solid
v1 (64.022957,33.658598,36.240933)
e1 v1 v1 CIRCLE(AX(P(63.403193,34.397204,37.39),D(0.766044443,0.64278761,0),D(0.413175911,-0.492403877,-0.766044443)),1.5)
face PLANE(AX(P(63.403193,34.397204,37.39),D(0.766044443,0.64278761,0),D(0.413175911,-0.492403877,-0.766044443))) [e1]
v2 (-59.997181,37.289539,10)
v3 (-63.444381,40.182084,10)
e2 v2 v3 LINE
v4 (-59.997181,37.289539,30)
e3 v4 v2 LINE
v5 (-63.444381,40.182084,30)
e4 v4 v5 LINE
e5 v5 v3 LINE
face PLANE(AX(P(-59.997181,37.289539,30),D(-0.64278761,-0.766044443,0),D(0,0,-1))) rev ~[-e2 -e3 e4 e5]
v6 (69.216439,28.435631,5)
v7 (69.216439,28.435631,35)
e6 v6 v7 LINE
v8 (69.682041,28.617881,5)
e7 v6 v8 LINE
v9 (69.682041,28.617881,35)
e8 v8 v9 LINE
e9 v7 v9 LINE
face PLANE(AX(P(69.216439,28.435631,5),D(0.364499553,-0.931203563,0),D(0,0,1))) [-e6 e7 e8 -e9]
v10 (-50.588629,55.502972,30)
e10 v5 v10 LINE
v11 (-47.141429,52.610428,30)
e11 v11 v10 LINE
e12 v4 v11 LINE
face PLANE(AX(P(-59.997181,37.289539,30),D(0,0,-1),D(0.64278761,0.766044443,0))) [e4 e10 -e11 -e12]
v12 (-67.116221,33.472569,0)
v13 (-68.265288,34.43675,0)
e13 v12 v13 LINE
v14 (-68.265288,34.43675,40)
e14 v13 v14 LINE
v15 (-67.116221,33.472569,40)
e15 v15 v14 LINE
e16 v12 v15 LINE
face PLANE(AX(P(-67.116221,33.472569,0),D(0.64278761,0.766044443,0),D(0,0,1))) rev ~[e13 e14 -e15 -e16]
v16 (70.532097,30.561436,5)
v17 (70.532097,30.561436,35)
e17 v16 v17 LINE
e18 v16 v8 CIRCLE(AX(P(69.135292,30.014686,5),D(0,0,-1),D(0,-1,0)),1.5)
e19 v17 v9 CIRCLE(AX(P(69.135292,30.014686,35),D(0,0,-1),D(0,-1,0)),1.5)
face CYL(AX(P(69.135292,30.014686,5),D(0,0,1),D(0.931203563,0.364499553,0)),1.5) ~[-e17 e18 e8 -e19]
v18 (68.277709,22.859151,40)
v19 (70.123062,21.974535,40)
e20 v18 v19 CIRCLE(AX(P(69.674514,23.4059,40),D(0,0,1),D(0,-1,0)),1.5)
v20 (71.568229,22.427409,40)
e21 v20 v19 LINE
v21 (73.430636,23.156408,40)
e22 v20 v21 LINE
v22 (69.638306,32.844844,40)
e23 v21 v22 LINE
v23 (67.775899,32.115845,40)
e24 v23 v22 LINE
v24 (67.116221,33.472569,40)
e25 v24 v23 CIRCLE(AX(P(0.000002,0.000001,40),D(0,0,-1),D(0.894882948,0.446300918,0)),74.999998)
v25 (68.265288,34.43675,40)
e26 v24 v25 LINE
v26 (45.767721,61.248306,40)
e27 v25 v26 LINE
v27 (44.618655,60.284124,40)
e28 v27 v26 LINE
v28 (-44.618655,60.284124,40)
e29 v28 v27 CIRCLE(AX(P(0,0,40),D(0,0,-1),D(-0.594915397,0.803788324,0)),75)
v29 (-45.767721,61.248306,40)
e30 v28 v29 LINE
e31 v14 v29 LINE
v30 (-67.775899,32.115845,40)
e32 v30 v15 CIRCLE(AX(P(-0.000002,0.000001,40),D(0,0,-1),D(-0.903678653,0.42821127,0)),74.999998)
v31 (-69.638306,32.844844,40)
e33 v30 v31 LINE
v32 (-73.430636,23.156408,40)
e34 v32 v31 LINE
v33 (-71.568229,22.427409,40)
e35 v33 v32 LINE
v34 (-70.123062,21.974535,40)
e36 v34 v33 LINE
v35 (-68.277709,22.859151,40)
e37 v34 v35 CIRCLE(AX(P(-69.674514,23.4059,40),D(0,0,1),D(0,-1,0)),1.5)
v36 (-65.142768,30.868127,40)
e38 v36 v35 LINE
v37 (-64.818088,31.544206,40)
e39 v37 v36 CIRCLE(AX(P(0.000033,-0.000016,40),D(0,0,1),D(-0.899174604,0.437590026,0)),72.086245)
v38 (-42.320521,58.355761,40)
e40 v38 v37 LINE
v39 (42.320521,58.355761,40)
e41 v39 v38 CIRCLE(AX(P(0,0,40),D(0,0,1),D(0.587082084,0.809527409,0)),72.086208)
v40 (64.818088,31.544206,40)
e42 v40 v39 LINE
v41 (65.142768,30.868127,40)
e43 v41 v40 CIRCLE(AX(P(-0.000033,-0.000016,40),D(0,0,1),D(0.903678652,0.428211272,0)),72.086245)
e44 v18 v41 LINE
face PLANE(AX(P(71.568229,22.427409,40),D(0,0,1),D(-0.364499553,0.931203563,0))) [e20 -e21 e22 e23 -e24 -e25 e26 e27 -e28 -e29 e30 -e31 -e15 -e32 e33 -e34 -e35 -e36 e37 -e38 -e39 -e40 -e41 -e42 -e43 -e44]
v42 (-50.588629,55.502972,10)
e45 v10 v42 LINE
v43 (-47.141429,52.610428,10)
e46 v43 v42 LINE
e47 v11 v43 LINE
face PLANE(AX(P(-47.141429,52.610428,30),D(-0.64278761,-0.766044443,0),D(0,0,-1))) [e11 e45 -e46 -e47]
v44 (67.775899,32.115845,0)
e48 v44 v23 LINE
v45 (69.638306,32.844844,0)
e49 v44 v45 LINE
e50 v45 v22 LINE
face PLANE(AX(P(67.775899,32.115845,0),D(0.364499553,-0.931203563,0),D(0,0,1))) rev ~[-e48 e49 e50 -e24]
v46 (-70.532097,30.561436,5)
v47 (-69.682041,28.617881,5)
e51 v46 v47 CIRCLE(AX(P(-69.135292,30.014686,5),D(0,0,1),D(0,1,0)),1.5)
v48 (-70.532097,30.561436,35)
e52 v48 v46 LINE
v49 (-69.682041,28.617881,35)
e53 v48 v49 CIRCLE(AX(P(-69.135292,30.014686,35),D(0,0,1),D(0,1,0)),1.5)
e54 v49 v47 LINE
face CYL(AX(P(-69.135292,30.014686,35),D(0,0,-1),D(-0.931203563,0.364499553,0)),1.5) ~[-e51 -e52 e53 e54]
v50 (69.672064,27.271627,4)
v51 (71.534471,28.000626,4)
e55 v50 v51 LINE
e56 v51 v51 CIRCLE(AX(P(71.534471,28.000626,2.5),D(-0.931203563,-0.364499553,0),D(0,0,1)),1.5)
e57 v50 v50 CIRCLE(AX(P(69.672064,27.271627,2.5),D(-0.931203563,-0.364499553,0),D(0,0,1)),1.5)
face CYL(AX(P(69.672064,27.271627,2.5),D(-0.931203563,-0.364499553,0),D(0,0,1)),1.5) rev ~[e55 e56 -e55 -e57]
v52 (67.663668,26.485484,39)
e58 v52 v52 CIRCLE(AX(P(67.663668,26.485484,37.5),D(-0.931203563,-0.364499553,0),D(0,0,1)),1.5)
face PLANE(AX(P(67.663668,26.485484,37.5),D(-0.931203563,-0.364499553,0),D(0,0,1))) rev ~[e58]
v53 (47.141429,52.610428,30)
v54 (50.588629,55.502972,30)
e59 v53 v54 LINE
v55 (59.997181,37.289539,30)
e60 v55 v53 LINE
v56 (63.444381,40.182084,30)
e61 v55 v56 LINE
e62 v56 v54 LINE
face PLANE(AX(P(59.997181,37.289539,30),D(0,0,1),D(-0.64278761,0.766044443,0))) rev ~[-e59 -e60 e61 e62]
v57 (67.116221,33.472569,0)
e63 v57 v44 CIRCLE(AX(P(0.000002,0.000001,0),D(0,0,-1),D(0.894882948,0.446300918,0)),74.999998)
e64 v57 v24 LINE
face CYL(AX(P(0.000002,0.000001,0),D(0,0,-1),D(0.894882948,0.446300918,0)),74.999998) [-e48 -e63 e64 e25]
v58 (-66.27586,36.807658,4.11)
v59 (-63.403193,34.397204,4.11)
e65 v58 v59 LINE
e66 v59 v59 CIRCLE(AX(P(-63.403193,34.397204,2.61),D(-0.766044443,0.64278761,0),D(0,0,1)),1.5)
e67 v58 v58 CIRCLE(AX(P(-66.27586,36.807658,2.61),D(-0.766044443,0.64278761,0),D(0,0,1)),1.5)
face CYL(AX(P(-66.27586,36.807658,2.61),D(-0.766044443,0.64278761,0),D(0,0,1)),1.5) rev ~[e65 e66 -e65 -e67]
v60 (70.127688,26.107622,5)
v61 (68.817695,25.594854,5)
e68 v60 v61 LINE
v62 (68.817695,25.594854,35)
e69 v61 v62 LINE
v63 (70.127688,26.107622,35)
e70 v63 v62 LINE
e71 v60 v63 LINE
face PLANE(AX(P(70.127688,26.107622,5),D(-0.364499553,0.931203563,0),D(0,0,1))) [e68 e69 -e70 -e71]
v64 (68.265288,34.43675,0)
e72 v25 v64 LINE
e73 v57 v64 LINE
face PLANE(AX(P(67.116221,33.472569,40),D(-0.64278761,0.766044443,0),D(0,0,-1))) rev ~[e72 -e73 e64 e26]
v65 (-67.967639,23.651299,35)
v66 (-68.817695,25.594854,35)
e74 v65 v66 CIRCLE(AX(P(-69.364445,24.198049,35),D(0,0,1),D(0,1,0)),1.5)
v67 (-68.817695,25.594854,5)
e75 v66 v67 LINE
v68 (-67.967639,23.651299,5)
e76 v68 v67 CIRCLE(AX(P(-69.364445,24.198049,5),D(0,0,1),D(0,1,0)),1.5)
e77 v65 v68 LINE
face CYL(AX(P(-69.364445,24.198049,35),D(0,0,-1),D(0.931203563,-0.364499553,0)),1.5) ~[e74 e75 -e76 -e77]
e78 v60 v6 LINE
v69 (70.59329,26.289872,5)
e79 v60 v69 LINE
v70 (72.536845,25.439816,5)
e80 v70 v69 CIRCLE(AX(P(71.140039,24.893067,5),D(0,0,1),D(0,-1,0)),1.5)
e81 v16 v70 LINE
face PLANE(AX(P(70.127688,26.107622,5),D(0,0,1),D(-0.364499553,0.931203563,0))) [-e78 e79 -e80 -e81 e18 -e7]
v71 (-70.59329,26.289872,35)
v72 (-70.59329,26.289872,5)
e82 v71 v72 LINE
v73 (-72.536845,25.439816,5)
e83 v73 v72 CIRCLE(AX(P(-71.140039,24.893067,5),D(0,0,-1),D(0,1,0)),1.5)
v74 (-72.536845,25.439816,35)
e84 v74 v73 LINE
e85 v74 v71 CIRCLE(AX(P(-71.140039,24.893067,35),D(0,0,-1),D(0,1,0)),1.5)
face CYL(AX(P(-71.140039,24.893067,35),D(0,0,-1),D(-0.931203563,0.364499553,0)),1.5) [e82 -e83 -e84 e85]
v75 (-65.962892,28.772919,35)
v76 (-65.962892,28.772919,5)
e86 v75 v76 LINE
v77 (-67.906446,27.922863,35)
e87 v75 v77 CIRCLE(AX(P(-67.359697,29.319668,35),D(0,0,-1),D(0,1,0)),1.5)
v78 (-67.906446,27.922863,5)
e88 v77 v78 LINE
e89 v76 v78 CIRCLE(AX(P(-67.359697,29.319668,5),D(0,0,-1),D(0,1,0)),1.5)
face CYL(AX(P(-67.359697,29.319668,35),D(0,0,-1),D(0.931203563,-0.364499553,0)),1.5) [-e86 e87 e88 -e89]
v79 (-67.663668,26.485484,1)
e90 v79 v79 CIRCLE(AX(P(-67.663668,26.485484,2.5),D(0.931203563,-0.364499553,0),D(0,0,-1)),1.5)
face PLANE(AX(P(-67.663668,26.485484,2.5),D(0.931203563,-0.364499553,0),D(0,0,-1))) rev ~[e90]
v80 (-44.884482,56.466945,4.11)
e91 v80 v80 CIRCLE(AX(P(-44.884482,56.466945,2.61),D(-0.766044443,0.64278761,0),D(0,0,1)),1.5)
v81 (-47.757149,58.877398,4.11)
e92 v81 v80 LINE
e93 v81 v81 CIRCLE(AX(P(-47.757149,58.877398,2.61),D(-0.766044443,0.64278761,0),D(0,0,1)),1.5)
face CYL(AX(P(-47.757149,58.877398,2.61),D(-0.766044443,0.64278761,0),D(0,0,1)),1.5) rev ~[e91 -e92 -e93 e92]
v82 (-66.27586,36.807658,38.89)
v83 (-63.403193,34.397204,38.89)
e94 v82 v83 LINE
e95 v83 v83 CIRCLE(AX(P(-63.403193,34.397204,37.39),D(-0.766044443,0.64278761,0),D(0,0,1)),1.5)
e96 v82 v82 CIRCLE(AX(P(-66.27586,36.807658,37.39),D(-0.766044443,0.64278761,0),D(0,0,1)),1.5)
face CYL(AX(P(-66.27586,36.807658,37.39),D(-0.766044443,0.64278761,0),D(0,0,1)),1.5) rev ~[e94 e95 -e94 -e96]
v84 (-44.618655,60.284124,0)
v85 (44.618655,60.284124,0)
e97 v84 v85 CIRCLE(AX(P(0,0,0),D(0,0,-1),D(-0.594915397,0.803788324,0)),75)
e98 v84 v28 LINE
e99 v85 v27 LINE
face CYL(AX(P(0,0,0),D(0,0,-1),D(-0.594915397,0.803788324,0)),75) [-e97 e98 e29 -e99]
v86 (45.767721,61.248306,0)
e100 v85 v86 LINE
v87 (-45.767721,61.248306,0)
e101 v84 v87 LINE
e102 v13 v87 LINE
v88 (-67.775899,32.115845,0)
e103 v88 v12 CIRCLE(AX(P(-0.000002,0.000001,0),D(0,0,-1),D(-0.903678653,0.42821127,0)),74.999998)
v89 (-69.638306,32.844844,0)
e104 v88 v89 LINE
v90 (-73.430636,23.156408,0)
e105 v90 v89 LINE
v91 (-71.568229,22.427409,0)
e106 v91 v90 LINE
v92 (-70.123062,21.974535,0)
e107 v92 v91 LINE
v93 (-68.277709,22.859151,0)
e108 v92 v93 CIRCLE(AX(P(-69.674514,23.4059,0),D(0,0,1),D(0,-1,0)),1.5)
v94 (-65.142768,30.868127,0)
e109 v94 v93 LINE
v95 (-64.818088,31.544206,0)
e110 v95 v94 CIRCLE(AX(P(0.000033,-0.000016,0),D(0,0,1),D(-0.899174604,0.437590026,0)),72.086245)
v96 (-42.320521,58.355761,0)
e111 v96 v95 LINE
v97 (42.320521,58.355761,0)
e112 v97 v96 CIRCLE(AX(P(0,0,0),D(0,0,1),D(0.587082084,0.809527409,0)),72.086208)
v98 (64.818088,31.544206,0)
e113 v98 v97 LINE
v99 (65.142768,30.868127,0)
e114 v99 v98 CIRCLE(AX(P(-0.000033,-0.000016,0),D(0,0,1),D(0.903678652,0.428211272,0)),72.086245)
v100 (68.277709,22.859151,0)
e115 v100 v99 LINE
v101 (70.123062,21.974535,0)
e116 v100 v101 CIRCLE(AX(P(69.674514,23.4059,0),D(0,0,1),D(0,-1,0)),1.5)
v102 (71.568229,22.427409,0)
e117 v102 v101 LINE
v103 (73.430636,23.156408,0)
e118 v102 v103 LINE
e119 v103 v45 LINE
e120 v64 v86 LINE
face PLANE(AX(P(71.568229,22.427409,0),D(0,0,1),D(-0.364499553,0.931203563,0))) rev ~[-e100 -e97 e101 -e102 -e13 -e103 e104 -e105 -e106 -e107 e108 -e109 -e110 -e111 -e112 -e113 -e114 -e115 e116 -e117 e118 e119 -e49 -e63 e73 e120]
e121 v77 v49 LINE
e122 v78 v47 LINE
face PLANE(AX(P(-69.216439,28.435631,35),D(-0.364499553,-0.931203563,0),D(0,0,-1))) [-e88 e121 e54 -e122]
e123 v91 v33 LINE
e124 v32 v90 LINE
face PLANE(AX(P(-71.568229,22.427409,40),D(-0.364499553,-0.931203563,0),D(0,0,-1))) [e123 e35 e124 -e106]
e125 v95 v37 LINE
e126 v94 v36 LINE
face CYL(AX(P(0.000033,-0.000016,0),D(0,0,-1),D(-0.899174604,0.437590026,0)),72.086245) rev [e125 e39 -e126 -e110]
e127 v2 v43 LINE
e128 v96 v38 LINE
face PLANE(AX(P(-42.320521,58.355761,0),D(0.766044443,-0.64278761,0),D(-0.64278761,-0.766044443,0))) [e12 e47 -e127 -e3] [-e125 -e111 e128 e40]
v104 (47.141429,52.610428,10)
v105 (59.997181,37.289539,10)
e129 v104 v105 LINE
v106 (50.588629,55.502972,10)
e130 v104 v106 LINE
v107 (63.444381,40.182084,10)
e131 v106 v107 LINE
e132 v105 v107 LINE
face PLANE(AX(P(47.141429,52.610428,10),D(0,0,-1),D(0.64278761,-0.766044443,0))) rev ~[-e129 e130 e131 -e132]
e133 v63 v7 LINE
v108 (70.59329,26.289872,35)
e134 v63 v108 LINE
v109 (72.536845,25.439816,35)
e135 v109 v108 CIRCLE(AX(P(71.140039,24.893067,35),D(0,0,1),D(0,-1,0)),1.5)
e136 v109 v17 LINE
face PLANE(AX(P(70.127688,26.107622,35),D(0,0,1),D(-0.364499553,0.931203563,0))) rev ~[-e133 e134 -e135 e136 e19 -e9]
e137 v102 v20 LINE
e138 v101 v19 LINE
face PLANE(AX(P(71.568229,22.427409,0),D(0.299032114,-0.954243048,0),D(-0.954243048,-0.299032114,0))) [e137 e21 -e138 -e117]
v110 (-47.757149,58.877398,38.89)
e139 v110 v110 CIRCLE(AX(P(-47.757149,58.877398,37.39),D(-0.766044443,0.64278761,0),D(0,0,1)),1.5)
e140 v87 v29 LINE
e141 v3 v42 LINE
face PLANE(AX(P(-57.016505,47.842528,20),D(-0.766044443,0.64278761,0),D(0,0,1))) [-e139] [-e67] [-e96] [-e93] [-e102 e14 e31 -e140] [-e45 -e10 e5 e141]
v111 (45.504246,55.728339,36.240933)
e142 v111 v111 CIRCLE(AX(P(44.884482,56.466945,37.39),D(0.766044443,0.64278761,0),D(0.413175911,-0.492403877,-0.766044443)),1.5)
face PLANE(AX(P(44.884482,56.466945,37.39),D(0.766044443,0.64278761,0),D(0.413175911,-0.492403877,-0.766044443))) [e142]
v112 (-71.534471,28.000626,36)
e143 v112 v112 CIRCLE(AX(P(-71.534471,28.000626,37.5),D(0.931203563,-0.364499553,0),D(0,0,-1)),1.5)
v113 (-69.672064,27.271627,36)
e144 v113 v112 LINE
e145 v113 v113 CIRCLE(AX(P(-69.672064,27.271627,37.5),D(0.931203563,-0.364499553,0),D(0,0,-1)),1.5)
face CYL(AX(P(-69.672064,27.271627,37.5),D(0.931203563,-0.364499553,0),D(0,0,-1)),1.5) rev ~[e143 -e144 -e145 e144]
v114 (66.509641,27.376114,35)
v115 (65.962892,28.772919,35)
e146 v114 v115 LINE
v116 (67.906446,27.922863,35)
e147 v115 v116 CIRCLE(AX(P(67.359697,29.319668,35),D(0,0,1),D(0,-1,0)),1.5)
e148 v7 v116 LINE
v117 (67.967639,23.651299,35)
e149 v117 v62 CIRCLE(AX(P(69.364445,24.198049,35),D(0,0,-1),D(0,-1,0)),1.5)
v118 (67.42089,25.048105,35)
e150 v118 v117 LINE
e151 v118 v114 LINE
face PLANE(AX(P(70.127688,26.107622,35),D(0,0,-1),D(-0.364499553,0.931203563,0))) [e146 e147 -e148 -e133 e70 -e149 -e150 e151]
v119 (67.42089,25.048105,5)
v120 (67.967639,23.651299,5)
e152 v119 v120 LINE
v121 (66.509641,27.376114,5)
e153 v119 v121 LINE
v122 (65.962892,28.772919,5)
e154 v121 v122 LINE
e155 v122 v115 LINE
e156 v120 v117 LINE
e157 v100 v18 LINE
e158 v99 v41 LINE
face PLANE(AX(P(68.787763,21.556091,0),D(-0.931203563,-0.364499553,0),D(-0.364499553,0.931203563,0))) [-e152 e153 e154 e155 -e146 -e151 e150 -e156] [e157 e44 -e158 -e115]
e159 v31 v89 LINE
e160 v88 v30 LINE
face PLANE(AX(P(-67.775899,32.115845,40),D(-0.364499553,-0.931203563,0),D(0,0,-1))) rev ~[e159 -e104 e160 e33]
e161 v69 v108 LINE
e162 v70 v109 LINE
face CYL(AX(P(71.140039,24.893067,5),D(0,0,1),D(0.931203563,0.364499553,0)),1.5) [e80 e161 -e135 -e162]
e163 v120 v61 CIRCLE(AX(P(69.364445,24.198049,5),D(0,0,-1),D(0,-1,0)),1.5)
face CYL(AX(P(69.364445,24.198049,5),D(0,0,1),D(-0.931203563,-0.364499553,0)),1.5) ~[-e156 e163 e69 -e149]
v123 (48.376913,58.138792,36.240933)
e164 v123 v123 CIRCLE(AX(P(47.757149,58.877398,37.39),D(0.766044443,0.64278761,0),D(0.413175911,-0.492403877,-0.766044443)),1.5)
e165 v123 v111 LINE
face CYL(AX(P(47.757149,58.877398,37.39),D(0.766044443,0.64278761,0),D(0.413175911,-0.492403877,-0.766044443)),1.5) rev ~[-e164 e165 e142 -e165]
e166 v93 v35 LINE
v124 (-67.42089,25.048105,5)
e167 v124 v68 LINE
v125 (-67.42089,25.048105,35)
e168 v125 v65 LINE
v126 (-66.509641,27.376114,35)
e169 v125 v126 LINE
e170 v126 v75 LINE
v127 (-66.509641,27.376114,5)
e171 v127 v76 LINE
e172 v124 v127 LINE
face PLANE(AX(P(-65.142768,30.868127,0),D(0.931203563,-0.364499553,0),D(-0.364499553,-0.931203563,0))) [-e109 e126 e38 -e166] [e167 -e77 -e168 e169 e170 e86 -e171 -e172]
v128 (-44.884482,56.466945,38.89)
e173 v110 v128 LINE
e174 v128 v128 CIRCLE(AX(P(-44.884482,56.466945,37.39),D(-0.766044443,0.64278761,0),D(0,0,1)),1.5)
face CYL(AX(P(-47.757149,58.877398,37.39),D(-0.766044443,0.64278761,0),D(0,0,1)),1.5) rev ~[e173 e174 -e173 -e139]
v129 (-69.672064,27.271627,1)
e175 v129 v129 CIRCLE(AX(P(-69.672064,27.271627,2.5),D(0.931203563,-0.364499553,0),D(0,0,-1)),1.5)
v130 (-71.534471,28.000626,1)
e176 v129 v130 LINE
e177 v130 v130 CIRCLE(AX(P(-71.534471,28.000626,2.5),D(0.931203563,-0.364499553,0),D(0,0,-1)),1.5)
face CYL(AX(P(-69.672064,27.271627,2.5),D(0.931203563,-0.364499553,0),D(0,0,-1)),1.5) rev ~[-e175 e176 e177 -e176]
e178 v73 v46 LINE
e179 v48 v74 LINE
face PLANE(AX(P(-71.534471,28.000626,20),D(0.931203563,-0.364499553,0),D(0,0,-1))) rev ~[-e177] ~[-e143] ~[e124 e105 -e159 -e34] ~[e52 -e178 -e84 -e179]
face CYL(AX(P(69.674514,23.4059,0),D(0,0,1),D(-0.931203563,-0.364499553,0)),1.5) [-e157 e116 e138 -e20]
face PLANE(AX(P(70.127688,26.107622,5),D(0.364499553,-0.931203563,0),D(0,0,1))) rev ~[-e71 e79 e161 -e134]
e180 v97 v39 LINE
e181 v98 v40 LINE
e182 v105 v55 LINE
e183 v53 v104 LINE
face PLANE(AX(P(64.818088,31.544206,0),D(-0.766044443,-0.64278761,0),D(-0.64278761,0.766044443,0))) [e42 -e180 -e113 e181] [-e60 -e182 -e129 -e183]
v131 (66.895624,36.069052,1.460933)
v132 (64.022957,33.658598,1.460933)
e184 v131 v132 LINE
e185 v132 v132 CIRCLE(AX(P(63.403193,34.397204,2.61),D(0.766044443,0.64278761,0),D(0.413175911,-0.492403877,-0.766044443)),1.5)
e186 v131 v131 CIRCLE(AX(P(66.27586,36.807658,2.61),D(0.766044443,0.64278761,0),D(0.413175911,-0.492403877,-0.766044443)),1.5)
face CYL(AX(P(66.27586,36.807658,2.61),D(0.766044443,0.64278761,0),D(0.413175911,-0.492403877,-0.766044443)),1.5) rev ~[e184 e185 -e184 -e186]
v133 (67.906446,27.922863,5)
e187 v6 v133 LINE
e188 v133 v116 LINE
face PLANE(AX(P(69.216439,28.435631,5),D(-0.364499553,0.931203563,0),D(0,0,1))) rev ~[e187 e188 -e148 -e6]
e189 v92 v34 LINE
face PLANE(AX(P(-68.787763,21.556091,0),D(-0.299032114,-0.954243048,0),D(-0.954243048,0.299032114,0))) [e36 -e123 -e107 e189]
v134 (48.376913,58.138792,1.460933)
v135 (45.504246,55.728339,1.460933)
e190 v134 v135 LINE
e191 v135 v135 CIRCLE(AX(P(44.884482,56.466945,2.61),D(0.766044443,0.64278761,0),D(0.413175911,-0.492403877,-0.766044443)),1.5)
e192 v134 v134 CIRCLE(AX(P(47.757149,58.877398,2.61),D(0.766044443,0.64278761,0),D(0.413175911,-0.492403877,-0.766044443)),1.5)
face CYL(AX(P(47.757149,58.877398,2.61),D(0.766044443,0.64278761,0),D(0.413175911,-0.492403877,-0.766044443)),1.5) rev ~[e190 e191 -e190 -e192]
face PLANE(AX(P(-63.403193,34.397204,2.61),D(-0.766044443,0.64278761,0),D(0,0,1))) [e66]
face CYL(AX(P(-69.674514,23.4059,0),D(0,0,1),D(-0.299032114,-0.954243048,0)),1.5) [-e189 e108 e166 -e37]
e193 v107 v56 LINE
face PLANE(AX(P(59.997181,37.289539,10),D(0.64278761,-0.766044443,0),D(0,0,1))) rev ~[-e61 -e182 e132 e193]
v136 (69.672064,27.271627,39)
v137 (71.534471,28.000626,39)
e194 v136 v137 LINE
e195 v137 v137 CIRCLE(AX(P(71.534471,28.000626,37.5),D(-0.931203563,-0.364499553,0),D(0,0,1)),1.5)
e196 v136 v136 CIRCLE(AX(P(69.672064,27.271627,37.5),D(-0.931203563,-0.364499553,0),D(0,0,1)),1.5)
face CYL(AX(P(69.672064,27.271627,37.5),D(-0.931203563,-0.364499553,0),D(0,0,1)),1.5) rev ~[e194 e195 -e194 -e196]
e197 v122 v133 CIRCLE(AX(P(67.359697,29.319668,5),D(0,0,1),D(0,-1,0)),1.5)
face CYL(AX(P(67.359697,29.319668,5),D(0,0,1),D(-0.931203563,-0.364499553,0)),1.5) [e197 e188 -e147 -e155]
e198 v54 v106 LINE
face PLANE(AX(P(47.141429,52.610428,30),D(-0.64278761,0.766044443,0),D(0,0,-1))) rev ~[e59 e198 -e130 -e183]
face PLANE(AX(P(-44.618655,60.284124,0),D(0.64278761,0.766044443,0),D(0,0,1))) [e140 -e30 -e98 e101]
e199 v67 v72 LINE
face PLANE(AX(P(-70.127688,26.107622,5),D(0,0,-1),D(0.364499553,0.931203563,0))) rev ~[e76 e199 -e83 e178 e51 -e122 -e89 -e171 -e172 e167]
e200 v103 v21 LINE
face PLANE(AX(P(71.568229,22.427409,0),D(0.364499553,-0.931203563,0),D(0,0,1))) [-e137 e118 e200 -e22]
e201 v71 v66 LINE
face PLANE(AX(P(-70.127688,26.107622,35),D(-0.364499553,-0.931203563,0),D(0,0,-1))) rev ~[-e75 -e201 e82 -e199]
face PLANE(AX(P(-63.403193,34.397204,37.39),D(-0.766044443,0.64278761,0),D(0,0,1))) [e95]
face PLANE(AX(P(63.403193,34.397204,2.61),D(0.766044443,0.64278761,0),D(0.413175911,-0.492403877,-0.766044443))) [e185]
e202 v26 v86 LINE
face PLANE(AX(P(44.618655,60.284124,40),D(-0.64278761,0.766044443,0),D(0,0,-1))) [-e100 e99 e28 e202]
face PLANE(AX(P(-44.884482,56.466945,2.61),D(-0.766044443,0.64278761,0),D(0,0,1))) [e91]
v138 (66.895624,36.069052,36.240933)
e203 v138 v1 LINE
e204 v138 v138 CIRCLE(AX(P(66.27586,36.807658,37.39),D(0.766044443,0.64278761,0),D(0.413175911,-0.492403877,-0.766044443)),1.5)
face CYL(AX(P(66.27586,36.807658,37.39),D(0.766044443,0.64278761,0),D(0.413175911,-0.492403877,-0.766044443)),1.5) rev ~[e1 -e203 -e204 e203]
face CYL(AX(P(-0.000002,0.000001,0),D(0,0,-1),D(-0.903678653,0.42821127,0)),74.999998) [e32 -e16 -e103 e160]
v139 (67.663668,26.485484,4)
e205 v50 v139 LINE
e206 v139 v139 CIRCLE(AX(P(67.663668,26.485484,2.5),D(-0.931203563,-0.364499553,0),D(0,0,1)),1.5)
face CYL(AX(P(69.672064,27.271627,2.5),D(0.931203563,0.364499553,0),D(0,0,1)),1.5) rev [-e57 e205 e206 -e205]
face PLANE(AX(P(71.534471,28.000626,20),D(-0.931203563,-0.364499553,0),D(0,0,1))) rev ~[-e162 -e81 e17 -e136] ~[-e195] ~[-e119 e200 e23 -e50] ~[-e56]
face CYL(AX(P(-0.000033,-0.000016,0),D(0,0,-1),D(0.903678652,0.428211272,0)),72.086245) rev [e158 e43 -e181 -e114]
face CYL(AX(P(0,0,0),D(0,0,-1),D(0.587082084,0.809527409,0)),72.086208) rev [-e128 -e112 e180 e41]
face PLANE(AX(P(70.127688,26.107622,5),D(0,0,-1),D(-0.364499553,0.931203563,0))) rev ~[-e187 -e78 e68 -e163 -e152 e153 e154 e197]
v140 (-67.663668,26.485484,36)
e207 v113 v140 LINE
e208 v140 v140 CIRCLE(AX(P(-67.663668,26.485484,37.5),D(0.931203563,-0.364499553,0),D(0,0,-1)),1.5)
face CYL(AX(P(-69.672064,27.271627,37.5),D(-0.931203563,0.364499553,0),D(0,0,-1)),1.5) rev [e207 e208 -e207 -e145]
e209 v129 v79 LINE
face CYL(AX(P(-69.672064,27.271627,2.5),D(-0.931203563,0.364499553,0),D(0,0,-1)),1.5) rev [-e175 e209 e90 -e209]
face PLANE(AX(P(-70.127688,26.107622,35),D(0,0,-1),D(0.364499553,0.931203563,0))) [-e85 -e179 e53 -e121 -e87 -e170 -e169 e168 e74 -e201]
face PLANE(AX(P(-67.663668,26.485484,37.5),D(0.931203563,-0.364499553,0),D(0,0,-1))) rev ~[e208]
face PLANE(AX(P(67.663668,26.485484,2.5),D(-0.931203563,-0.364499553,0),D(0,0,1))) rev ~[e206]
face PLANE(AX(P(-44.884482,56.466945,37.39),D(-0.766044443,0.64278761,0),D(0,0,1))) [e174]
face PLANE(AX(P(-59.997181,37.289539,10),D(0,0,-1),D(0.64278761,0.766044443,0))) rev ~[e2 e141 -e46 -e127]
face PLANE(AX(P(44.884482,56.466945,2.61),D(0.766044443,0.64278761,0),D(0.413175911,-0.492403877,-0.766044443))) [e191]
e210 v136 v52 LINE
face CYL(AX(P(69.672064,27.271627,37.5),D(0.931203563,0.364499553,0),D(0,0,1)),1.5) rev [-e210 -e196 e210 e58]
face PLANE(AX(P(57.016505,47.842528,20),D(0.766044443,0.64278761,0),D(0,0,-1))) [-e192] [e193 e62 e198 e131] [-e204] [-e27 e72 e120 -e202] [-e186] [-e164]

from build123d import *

# Parameters (mm, degrees)
BOSS_EXTRUDE1_DEPTH = 40
SKETCH8_W           = 40
SKETCH8_H           = 35
BOSS_EXTRUDE2_DEPTH = 1.5
SKETCH9_W           = 40
SKETCH9_H           = 35
BOSS_EXTRUDE3_DEPTH = 1.5
SKETCH11_R          = 1.5
CUT_EXTRUDE1_DEPTH  = 3.75
SKETCH12_R          = 1.5
CUT_EXTRUDE2_DEPTH  = 3.75
SKETCH4_W           = 20
SKETCH4_H           = 20
CUT_EXTRUDE3_DEPTH  = 4.5
CUT_EXTRUDE4_DEPTH  = 4.5
BOSS_EXTRUDE5_DEPTH = 40
SKETCH15_W          = 40
SKETCH15_H          = 10.404209308
SKETCH15_R          = 1.5
SKETCH15_W_2        = 30
SKETCH15_H_2        = 2.5
BOSS_EXTRUDE6_DEPTH = 2
SKETCH15_2_W        = 30
SKETCH15_2_H        = 2.5
CUT_EXTRUDE5_DEPTH  = 2.906774
SKETCH15_3_R        = 1.5
CUT_EXTRUDE6_DEPTH  = 2.156774
SKETCH17_W          = 40
SKETCH17_H          = 10.404209308
SKETCH17_R          = 1.5
SKETCH17_W_2        = 30
SKETCH17_H_2        = 2.5
BOSS_EXTRUDE7_DEPTH = 2
SKETCH17_2_R        = 1.5
CUT_EXTRUDE7_DEPTH  = 2.156774
SKETCH17_4_W        = 30
SKETCH17_4_H        = 2.5
CUT_EXTRUDE9_DEPTH  = 2.906774
FILLET1_R           = 1.5


with BuildPart() as part:
    # Sketch2 → Boss-Extrude1 (new body)
    with BuildSketch(Plane.XY):
        with BuildLine():
            Line((-67.116221114, 33.472568819), (-44.618654775, 60.284124329))
            ThreePointArc((-44.618654775, 60.284124329), (0, 75), (44.618654775, 60.284124329))
            Line((44.618654775, 60.284124329), (67.116221114, 33.472568819))
            ThreePointArc((67.116221114, 33.472568819), (67.449471383, 32.795865748), (67.77589897, 32.115845292))
            Line((67.77589897, 32.115845292), (65.142767665, 30.868126871))
            ThreePointArc((65.142767665, 30.868126871), (64.981306989, 31.206588688), (64.818087785, 31.54420599))
            Line((64.818087785, 31.54420599), (42.320521446, 58.3557615))
            ThreePointArc((42.320521446, 58.3557615), (0, 72.086208359), (-42.320521446, 58.3557615))
            Line((-42.320521446, 58.3557615), (-64.818087785, 31.54420599))
            ThreePointArc((-64.818087785, 31.54420599), (-64.981306989, 31.206588688), (-65.142767665, 30.868126871))
            Line((-65.142767665, 30.868126871), (-67.77589897, 32.115845292))
            ThreePointArc((-67.77589897, 32.115845292), (-67.449471383, 32.795865748), (-67.116221114, 33.472568819))
        make_face()
    extrude(amount=BOSS_EXTRUDE1_DEPTH)

    # Sketch8 → Boss-Extrude2 (add)
    with BuildSketch(Plane(origin=(-55.867437945, 46.878346574, 0), x_dir=(0, 0, 1), z_dir=(-0.766044443, 0.64278761, 0))):
        with Locations((20, 0)):
            Rectangle(SKETCH8_W, SKETCH8_H)
    extrude(amount=BOSS_EXTRUDE2_DEPTH)

    # Sketch9 → Boss-Extrude3 (add)
    with BuildSketch(Plane(origin=(55.867437945, 46.878346574, 0), x_dir=(0, 0, -1), z_dir=(0.766044443, 0.64278761, 0))):
        with Locations((-20, 0)):
            Rectangle(SKETCH9_W, SKETCH9_H)
    extrude(amount=BOSS_EXTRUDE3_DEPTH)

    # Sketch11 → Cut-Extrude1 (cut)
    with BuildSketch(Plane(origin=(-57.016504609, 47.842527989, 0), x_dir=(0, 0, 1), z_dir=(-0.766044443, 0.64278761, 0))):
        with Locations((37.39, 14.405)):
            Circle(SKETCH11_R)
        with Locations((2.61, 14.405)):
            Circle(SKETCH11_R)
        with Locations((2.61, -14.405)):
            Circle(SKETCH11_R)
        with Locations((37.39, -14.405)):
            Circle(SKETCH11_R)
    extrude(amount=-CUT_EXTRUDE1_DEPTH, mode=Mode.SUBTRACT)

    # Sketch12 → Cut-Extrude2 (cut)
    with BuildSketch(Plane(origin=(57.016504609, 47.842527989, 58.957611892), x_dir=(0.413175911, -0.492403877, -0.766044443), z_dir=(0.766044443, 0.64278761, 0))):
        with Locations((25.781104759, 2.828523492)):
            Circle(SKETCH12_R)
        with Locations((52.42413049, 25.184676556)):
            Circle(SKETCH12_R)
        with Locations((33.905419455, 47.254416963)):
            Circle(SKETCH12_R)
        with Locations((7.262393724, 24.898263898)):
            Circle(SKETCH12_R)
    extrude(amount=-CUT_EXTRUDE2_DEPTH, mode=Mode.SUBTRACT)

    # Sketch4 → Cut-Extrude3 (cut)
    with BuildSketch(Plane(origin=(-53.569304615, 44.949983745, 0), x_dir=(0, 0, -1), z_dir=(0.766044443, -0.64278761, 0))):
        with Locations((-20, 0)):
            Rectangle(SKETCH4_W, SKETCH4_H)
    extrude(amount=-CUT_EXTRUDE3_DEPTH, mode=Mode.SUBTRACT)

    # Sketch7 → Cut-Extrude4 (cut)
    with BuildSketch(Plane(origin=(53.569304615, 44.949983745, -58.957611892), x_dir=(0.413175911, -0.492403877, 0.766044443), z_dir=(-0.766044443, -0.64278761, 0))):
        Polygon((59.252471497, 36.664654087), (74.57336036, 49.52040628), (61.717608166, 64.841295143), (46.396719304, 51.985542949), align=None)
    extrude(amount=-CUT_EXTRUDE4_DEPTH, mode=Mode.SUBTRACT)

    # Sketch14 → Boss-Extrude5 (add)
    with BuildSketch(Plane.XY):
        Polygon((-68.787763199, 21.556091242), (-71.568228616, 22.427408515), (-67.77589897, 32.115845292), (-65.142767665, 30.868126871), align=None)
        Polygon((68.787763199, 21.556091242), (65.142767665, 30.868126871), (67.77589897, 32.115845292), (71.568228616, 22.427408515), align=None)
    extrude(amount=BOSS_EXTRUDE5_DEPTH)

    # Sketch15 → Boss-Extrude6 (add)
    with BuildSketch(Plane(origin=(-69.672063793, 27.271626904, 0), x_dir=(0, 0, -1), z_dir=(0.931203563, -0.364499553, 0))):
        with Locations((-20, 0)):
            Rectangle(SKETCH15_W, SKETCH15_H)
        with Locations((-37.5, 0)):
            Circle(SKETCH15_R, mode=Mode.SUBTRACT)
        with Locations((-2.5, 0)):
            Circle(SKETCH15_R, mode=Mode.SUBTRACT)
        with Locations((-20, 0)):
            Rectangle(SKETCH15_W_2, SKETCH15_H_2, mode=Mode.SUBTRACT)
    extrude(amount=-BOSS_EXTRUDE6_DEPTH)

    # Sketch15<2> → Cut-Extrude5 (cut)
    with BuildSketch(Plane(origin=(-69.672063793, 27.271626904, 0), x_dir=(0, 0, -1), z_dir=(0.931203563, -0.364499553, 0))):
        with Locations((-20, 0)):
            Rectangle(SKETCH15_2_W, SKETCH15_2_H)
    extrude(amount=CUT_EXTRUDE5_DEPTH, mode=Mode.SUBTRACT)

    # Sketch15<3> → Cut-Extrude6 (cut)
    with BuildSketch(Plane(origin=(-69.672063793, 27.271626904, 0), x_dir=(0, 0, -1), z_dir=(0.931203563, -0.364499553, 0))):
        with Locations((-37.5, 0)):
            Circle(SKETCH15_3_R)
        with Locations((-2.5, 0)):
            Circle(SKETCH15_3_R)
    extrude(amount=CUT_EXTRUDE6_DEPTH, mode=Mode.SUBTRACT)

    # Sketch17 → Boss-Extrude7 (add)
    with BuildSketch(Plane(origin=(69.672063793, 27.271626904, 0), x_dir=(0, 0, 1), z_dir=(-0.931203563, -0.364499553, 0))):
        with Locations((20, 0)):
            Rectangle(SKETCH17_W, SKETCH17_H)
        with Locations((2.5, 0)):
            Circle(SKETCH17_R, mode=Mode.SUBTRACT)
        with Locations((37.5, 0)):
            Circle(SKETCH17_R, mode=Mode.SUBTRACT)
        with Locations((20, 0)):
            Rectangle(SKETCH17_W_2, SKETCH17_H_2, mode=Mode.SUBTRACT)
    extrude(amount=-BOSS_EXTRUDE7_DEPTH)

    # Sketch17<2> → Cut-Extrude7 (cut)
    with BuildSketch(Plane(origin=(69.672063793, 27.271626904, 0), x_dir=(0, 0, 1), z_dir=(-0.931203563, -0.364499553, 0))):
        with Locations((37.5, 0)):
            Circle(SKETCH17_2_R)
        with Locations((2.5, 0)):
            Circle(SKETCH17_2_R)
    extrude(amount=CUT_EXTRUDE7_DEPTH, mode=Mode.SUBTRACT)

    # Sketch17<4> → Cut-Extrude9 (cut)
    with BuildSketch(Plane(origin=(69.672063793, 27.271626904, 0), x_dir=(0, 0, 1), z_dir=(-0.931203563, -0.364499553, 0))):
        with Locations((20, 0)):
            Rectangle(SKETCH17_4_W, SKETCH17_4_H)
    extrude(amount=CUT_EXTRUDE9_DEPTH, mode=Mode.SUBTRACT)

    # Fillet1
    fillet1_edges = [part.edges().sort_by_distance(p)[0] for p in [
        (-68.787763199, 21.556091242, 20),
        (68.787763199, 21.556091242, 20),
        (-71.990095361, 26.836621557, 20),
        (-71.078846477, 29.164630464, 20),
        (-67.42088993, 25.048104625, 20),
        (-66.509641046, 27.376113532, 20),
        (71.078846477, 29.164630464, 20),
        (71.990095361, 26.836621557, 20),
        (66.509641046, 27.376113532, 20),
        (67.42088993, 25.048104625, 20),
    ]]
    fillet(fillet1_edges, radius=FILLET1_R)


solid = part.part
